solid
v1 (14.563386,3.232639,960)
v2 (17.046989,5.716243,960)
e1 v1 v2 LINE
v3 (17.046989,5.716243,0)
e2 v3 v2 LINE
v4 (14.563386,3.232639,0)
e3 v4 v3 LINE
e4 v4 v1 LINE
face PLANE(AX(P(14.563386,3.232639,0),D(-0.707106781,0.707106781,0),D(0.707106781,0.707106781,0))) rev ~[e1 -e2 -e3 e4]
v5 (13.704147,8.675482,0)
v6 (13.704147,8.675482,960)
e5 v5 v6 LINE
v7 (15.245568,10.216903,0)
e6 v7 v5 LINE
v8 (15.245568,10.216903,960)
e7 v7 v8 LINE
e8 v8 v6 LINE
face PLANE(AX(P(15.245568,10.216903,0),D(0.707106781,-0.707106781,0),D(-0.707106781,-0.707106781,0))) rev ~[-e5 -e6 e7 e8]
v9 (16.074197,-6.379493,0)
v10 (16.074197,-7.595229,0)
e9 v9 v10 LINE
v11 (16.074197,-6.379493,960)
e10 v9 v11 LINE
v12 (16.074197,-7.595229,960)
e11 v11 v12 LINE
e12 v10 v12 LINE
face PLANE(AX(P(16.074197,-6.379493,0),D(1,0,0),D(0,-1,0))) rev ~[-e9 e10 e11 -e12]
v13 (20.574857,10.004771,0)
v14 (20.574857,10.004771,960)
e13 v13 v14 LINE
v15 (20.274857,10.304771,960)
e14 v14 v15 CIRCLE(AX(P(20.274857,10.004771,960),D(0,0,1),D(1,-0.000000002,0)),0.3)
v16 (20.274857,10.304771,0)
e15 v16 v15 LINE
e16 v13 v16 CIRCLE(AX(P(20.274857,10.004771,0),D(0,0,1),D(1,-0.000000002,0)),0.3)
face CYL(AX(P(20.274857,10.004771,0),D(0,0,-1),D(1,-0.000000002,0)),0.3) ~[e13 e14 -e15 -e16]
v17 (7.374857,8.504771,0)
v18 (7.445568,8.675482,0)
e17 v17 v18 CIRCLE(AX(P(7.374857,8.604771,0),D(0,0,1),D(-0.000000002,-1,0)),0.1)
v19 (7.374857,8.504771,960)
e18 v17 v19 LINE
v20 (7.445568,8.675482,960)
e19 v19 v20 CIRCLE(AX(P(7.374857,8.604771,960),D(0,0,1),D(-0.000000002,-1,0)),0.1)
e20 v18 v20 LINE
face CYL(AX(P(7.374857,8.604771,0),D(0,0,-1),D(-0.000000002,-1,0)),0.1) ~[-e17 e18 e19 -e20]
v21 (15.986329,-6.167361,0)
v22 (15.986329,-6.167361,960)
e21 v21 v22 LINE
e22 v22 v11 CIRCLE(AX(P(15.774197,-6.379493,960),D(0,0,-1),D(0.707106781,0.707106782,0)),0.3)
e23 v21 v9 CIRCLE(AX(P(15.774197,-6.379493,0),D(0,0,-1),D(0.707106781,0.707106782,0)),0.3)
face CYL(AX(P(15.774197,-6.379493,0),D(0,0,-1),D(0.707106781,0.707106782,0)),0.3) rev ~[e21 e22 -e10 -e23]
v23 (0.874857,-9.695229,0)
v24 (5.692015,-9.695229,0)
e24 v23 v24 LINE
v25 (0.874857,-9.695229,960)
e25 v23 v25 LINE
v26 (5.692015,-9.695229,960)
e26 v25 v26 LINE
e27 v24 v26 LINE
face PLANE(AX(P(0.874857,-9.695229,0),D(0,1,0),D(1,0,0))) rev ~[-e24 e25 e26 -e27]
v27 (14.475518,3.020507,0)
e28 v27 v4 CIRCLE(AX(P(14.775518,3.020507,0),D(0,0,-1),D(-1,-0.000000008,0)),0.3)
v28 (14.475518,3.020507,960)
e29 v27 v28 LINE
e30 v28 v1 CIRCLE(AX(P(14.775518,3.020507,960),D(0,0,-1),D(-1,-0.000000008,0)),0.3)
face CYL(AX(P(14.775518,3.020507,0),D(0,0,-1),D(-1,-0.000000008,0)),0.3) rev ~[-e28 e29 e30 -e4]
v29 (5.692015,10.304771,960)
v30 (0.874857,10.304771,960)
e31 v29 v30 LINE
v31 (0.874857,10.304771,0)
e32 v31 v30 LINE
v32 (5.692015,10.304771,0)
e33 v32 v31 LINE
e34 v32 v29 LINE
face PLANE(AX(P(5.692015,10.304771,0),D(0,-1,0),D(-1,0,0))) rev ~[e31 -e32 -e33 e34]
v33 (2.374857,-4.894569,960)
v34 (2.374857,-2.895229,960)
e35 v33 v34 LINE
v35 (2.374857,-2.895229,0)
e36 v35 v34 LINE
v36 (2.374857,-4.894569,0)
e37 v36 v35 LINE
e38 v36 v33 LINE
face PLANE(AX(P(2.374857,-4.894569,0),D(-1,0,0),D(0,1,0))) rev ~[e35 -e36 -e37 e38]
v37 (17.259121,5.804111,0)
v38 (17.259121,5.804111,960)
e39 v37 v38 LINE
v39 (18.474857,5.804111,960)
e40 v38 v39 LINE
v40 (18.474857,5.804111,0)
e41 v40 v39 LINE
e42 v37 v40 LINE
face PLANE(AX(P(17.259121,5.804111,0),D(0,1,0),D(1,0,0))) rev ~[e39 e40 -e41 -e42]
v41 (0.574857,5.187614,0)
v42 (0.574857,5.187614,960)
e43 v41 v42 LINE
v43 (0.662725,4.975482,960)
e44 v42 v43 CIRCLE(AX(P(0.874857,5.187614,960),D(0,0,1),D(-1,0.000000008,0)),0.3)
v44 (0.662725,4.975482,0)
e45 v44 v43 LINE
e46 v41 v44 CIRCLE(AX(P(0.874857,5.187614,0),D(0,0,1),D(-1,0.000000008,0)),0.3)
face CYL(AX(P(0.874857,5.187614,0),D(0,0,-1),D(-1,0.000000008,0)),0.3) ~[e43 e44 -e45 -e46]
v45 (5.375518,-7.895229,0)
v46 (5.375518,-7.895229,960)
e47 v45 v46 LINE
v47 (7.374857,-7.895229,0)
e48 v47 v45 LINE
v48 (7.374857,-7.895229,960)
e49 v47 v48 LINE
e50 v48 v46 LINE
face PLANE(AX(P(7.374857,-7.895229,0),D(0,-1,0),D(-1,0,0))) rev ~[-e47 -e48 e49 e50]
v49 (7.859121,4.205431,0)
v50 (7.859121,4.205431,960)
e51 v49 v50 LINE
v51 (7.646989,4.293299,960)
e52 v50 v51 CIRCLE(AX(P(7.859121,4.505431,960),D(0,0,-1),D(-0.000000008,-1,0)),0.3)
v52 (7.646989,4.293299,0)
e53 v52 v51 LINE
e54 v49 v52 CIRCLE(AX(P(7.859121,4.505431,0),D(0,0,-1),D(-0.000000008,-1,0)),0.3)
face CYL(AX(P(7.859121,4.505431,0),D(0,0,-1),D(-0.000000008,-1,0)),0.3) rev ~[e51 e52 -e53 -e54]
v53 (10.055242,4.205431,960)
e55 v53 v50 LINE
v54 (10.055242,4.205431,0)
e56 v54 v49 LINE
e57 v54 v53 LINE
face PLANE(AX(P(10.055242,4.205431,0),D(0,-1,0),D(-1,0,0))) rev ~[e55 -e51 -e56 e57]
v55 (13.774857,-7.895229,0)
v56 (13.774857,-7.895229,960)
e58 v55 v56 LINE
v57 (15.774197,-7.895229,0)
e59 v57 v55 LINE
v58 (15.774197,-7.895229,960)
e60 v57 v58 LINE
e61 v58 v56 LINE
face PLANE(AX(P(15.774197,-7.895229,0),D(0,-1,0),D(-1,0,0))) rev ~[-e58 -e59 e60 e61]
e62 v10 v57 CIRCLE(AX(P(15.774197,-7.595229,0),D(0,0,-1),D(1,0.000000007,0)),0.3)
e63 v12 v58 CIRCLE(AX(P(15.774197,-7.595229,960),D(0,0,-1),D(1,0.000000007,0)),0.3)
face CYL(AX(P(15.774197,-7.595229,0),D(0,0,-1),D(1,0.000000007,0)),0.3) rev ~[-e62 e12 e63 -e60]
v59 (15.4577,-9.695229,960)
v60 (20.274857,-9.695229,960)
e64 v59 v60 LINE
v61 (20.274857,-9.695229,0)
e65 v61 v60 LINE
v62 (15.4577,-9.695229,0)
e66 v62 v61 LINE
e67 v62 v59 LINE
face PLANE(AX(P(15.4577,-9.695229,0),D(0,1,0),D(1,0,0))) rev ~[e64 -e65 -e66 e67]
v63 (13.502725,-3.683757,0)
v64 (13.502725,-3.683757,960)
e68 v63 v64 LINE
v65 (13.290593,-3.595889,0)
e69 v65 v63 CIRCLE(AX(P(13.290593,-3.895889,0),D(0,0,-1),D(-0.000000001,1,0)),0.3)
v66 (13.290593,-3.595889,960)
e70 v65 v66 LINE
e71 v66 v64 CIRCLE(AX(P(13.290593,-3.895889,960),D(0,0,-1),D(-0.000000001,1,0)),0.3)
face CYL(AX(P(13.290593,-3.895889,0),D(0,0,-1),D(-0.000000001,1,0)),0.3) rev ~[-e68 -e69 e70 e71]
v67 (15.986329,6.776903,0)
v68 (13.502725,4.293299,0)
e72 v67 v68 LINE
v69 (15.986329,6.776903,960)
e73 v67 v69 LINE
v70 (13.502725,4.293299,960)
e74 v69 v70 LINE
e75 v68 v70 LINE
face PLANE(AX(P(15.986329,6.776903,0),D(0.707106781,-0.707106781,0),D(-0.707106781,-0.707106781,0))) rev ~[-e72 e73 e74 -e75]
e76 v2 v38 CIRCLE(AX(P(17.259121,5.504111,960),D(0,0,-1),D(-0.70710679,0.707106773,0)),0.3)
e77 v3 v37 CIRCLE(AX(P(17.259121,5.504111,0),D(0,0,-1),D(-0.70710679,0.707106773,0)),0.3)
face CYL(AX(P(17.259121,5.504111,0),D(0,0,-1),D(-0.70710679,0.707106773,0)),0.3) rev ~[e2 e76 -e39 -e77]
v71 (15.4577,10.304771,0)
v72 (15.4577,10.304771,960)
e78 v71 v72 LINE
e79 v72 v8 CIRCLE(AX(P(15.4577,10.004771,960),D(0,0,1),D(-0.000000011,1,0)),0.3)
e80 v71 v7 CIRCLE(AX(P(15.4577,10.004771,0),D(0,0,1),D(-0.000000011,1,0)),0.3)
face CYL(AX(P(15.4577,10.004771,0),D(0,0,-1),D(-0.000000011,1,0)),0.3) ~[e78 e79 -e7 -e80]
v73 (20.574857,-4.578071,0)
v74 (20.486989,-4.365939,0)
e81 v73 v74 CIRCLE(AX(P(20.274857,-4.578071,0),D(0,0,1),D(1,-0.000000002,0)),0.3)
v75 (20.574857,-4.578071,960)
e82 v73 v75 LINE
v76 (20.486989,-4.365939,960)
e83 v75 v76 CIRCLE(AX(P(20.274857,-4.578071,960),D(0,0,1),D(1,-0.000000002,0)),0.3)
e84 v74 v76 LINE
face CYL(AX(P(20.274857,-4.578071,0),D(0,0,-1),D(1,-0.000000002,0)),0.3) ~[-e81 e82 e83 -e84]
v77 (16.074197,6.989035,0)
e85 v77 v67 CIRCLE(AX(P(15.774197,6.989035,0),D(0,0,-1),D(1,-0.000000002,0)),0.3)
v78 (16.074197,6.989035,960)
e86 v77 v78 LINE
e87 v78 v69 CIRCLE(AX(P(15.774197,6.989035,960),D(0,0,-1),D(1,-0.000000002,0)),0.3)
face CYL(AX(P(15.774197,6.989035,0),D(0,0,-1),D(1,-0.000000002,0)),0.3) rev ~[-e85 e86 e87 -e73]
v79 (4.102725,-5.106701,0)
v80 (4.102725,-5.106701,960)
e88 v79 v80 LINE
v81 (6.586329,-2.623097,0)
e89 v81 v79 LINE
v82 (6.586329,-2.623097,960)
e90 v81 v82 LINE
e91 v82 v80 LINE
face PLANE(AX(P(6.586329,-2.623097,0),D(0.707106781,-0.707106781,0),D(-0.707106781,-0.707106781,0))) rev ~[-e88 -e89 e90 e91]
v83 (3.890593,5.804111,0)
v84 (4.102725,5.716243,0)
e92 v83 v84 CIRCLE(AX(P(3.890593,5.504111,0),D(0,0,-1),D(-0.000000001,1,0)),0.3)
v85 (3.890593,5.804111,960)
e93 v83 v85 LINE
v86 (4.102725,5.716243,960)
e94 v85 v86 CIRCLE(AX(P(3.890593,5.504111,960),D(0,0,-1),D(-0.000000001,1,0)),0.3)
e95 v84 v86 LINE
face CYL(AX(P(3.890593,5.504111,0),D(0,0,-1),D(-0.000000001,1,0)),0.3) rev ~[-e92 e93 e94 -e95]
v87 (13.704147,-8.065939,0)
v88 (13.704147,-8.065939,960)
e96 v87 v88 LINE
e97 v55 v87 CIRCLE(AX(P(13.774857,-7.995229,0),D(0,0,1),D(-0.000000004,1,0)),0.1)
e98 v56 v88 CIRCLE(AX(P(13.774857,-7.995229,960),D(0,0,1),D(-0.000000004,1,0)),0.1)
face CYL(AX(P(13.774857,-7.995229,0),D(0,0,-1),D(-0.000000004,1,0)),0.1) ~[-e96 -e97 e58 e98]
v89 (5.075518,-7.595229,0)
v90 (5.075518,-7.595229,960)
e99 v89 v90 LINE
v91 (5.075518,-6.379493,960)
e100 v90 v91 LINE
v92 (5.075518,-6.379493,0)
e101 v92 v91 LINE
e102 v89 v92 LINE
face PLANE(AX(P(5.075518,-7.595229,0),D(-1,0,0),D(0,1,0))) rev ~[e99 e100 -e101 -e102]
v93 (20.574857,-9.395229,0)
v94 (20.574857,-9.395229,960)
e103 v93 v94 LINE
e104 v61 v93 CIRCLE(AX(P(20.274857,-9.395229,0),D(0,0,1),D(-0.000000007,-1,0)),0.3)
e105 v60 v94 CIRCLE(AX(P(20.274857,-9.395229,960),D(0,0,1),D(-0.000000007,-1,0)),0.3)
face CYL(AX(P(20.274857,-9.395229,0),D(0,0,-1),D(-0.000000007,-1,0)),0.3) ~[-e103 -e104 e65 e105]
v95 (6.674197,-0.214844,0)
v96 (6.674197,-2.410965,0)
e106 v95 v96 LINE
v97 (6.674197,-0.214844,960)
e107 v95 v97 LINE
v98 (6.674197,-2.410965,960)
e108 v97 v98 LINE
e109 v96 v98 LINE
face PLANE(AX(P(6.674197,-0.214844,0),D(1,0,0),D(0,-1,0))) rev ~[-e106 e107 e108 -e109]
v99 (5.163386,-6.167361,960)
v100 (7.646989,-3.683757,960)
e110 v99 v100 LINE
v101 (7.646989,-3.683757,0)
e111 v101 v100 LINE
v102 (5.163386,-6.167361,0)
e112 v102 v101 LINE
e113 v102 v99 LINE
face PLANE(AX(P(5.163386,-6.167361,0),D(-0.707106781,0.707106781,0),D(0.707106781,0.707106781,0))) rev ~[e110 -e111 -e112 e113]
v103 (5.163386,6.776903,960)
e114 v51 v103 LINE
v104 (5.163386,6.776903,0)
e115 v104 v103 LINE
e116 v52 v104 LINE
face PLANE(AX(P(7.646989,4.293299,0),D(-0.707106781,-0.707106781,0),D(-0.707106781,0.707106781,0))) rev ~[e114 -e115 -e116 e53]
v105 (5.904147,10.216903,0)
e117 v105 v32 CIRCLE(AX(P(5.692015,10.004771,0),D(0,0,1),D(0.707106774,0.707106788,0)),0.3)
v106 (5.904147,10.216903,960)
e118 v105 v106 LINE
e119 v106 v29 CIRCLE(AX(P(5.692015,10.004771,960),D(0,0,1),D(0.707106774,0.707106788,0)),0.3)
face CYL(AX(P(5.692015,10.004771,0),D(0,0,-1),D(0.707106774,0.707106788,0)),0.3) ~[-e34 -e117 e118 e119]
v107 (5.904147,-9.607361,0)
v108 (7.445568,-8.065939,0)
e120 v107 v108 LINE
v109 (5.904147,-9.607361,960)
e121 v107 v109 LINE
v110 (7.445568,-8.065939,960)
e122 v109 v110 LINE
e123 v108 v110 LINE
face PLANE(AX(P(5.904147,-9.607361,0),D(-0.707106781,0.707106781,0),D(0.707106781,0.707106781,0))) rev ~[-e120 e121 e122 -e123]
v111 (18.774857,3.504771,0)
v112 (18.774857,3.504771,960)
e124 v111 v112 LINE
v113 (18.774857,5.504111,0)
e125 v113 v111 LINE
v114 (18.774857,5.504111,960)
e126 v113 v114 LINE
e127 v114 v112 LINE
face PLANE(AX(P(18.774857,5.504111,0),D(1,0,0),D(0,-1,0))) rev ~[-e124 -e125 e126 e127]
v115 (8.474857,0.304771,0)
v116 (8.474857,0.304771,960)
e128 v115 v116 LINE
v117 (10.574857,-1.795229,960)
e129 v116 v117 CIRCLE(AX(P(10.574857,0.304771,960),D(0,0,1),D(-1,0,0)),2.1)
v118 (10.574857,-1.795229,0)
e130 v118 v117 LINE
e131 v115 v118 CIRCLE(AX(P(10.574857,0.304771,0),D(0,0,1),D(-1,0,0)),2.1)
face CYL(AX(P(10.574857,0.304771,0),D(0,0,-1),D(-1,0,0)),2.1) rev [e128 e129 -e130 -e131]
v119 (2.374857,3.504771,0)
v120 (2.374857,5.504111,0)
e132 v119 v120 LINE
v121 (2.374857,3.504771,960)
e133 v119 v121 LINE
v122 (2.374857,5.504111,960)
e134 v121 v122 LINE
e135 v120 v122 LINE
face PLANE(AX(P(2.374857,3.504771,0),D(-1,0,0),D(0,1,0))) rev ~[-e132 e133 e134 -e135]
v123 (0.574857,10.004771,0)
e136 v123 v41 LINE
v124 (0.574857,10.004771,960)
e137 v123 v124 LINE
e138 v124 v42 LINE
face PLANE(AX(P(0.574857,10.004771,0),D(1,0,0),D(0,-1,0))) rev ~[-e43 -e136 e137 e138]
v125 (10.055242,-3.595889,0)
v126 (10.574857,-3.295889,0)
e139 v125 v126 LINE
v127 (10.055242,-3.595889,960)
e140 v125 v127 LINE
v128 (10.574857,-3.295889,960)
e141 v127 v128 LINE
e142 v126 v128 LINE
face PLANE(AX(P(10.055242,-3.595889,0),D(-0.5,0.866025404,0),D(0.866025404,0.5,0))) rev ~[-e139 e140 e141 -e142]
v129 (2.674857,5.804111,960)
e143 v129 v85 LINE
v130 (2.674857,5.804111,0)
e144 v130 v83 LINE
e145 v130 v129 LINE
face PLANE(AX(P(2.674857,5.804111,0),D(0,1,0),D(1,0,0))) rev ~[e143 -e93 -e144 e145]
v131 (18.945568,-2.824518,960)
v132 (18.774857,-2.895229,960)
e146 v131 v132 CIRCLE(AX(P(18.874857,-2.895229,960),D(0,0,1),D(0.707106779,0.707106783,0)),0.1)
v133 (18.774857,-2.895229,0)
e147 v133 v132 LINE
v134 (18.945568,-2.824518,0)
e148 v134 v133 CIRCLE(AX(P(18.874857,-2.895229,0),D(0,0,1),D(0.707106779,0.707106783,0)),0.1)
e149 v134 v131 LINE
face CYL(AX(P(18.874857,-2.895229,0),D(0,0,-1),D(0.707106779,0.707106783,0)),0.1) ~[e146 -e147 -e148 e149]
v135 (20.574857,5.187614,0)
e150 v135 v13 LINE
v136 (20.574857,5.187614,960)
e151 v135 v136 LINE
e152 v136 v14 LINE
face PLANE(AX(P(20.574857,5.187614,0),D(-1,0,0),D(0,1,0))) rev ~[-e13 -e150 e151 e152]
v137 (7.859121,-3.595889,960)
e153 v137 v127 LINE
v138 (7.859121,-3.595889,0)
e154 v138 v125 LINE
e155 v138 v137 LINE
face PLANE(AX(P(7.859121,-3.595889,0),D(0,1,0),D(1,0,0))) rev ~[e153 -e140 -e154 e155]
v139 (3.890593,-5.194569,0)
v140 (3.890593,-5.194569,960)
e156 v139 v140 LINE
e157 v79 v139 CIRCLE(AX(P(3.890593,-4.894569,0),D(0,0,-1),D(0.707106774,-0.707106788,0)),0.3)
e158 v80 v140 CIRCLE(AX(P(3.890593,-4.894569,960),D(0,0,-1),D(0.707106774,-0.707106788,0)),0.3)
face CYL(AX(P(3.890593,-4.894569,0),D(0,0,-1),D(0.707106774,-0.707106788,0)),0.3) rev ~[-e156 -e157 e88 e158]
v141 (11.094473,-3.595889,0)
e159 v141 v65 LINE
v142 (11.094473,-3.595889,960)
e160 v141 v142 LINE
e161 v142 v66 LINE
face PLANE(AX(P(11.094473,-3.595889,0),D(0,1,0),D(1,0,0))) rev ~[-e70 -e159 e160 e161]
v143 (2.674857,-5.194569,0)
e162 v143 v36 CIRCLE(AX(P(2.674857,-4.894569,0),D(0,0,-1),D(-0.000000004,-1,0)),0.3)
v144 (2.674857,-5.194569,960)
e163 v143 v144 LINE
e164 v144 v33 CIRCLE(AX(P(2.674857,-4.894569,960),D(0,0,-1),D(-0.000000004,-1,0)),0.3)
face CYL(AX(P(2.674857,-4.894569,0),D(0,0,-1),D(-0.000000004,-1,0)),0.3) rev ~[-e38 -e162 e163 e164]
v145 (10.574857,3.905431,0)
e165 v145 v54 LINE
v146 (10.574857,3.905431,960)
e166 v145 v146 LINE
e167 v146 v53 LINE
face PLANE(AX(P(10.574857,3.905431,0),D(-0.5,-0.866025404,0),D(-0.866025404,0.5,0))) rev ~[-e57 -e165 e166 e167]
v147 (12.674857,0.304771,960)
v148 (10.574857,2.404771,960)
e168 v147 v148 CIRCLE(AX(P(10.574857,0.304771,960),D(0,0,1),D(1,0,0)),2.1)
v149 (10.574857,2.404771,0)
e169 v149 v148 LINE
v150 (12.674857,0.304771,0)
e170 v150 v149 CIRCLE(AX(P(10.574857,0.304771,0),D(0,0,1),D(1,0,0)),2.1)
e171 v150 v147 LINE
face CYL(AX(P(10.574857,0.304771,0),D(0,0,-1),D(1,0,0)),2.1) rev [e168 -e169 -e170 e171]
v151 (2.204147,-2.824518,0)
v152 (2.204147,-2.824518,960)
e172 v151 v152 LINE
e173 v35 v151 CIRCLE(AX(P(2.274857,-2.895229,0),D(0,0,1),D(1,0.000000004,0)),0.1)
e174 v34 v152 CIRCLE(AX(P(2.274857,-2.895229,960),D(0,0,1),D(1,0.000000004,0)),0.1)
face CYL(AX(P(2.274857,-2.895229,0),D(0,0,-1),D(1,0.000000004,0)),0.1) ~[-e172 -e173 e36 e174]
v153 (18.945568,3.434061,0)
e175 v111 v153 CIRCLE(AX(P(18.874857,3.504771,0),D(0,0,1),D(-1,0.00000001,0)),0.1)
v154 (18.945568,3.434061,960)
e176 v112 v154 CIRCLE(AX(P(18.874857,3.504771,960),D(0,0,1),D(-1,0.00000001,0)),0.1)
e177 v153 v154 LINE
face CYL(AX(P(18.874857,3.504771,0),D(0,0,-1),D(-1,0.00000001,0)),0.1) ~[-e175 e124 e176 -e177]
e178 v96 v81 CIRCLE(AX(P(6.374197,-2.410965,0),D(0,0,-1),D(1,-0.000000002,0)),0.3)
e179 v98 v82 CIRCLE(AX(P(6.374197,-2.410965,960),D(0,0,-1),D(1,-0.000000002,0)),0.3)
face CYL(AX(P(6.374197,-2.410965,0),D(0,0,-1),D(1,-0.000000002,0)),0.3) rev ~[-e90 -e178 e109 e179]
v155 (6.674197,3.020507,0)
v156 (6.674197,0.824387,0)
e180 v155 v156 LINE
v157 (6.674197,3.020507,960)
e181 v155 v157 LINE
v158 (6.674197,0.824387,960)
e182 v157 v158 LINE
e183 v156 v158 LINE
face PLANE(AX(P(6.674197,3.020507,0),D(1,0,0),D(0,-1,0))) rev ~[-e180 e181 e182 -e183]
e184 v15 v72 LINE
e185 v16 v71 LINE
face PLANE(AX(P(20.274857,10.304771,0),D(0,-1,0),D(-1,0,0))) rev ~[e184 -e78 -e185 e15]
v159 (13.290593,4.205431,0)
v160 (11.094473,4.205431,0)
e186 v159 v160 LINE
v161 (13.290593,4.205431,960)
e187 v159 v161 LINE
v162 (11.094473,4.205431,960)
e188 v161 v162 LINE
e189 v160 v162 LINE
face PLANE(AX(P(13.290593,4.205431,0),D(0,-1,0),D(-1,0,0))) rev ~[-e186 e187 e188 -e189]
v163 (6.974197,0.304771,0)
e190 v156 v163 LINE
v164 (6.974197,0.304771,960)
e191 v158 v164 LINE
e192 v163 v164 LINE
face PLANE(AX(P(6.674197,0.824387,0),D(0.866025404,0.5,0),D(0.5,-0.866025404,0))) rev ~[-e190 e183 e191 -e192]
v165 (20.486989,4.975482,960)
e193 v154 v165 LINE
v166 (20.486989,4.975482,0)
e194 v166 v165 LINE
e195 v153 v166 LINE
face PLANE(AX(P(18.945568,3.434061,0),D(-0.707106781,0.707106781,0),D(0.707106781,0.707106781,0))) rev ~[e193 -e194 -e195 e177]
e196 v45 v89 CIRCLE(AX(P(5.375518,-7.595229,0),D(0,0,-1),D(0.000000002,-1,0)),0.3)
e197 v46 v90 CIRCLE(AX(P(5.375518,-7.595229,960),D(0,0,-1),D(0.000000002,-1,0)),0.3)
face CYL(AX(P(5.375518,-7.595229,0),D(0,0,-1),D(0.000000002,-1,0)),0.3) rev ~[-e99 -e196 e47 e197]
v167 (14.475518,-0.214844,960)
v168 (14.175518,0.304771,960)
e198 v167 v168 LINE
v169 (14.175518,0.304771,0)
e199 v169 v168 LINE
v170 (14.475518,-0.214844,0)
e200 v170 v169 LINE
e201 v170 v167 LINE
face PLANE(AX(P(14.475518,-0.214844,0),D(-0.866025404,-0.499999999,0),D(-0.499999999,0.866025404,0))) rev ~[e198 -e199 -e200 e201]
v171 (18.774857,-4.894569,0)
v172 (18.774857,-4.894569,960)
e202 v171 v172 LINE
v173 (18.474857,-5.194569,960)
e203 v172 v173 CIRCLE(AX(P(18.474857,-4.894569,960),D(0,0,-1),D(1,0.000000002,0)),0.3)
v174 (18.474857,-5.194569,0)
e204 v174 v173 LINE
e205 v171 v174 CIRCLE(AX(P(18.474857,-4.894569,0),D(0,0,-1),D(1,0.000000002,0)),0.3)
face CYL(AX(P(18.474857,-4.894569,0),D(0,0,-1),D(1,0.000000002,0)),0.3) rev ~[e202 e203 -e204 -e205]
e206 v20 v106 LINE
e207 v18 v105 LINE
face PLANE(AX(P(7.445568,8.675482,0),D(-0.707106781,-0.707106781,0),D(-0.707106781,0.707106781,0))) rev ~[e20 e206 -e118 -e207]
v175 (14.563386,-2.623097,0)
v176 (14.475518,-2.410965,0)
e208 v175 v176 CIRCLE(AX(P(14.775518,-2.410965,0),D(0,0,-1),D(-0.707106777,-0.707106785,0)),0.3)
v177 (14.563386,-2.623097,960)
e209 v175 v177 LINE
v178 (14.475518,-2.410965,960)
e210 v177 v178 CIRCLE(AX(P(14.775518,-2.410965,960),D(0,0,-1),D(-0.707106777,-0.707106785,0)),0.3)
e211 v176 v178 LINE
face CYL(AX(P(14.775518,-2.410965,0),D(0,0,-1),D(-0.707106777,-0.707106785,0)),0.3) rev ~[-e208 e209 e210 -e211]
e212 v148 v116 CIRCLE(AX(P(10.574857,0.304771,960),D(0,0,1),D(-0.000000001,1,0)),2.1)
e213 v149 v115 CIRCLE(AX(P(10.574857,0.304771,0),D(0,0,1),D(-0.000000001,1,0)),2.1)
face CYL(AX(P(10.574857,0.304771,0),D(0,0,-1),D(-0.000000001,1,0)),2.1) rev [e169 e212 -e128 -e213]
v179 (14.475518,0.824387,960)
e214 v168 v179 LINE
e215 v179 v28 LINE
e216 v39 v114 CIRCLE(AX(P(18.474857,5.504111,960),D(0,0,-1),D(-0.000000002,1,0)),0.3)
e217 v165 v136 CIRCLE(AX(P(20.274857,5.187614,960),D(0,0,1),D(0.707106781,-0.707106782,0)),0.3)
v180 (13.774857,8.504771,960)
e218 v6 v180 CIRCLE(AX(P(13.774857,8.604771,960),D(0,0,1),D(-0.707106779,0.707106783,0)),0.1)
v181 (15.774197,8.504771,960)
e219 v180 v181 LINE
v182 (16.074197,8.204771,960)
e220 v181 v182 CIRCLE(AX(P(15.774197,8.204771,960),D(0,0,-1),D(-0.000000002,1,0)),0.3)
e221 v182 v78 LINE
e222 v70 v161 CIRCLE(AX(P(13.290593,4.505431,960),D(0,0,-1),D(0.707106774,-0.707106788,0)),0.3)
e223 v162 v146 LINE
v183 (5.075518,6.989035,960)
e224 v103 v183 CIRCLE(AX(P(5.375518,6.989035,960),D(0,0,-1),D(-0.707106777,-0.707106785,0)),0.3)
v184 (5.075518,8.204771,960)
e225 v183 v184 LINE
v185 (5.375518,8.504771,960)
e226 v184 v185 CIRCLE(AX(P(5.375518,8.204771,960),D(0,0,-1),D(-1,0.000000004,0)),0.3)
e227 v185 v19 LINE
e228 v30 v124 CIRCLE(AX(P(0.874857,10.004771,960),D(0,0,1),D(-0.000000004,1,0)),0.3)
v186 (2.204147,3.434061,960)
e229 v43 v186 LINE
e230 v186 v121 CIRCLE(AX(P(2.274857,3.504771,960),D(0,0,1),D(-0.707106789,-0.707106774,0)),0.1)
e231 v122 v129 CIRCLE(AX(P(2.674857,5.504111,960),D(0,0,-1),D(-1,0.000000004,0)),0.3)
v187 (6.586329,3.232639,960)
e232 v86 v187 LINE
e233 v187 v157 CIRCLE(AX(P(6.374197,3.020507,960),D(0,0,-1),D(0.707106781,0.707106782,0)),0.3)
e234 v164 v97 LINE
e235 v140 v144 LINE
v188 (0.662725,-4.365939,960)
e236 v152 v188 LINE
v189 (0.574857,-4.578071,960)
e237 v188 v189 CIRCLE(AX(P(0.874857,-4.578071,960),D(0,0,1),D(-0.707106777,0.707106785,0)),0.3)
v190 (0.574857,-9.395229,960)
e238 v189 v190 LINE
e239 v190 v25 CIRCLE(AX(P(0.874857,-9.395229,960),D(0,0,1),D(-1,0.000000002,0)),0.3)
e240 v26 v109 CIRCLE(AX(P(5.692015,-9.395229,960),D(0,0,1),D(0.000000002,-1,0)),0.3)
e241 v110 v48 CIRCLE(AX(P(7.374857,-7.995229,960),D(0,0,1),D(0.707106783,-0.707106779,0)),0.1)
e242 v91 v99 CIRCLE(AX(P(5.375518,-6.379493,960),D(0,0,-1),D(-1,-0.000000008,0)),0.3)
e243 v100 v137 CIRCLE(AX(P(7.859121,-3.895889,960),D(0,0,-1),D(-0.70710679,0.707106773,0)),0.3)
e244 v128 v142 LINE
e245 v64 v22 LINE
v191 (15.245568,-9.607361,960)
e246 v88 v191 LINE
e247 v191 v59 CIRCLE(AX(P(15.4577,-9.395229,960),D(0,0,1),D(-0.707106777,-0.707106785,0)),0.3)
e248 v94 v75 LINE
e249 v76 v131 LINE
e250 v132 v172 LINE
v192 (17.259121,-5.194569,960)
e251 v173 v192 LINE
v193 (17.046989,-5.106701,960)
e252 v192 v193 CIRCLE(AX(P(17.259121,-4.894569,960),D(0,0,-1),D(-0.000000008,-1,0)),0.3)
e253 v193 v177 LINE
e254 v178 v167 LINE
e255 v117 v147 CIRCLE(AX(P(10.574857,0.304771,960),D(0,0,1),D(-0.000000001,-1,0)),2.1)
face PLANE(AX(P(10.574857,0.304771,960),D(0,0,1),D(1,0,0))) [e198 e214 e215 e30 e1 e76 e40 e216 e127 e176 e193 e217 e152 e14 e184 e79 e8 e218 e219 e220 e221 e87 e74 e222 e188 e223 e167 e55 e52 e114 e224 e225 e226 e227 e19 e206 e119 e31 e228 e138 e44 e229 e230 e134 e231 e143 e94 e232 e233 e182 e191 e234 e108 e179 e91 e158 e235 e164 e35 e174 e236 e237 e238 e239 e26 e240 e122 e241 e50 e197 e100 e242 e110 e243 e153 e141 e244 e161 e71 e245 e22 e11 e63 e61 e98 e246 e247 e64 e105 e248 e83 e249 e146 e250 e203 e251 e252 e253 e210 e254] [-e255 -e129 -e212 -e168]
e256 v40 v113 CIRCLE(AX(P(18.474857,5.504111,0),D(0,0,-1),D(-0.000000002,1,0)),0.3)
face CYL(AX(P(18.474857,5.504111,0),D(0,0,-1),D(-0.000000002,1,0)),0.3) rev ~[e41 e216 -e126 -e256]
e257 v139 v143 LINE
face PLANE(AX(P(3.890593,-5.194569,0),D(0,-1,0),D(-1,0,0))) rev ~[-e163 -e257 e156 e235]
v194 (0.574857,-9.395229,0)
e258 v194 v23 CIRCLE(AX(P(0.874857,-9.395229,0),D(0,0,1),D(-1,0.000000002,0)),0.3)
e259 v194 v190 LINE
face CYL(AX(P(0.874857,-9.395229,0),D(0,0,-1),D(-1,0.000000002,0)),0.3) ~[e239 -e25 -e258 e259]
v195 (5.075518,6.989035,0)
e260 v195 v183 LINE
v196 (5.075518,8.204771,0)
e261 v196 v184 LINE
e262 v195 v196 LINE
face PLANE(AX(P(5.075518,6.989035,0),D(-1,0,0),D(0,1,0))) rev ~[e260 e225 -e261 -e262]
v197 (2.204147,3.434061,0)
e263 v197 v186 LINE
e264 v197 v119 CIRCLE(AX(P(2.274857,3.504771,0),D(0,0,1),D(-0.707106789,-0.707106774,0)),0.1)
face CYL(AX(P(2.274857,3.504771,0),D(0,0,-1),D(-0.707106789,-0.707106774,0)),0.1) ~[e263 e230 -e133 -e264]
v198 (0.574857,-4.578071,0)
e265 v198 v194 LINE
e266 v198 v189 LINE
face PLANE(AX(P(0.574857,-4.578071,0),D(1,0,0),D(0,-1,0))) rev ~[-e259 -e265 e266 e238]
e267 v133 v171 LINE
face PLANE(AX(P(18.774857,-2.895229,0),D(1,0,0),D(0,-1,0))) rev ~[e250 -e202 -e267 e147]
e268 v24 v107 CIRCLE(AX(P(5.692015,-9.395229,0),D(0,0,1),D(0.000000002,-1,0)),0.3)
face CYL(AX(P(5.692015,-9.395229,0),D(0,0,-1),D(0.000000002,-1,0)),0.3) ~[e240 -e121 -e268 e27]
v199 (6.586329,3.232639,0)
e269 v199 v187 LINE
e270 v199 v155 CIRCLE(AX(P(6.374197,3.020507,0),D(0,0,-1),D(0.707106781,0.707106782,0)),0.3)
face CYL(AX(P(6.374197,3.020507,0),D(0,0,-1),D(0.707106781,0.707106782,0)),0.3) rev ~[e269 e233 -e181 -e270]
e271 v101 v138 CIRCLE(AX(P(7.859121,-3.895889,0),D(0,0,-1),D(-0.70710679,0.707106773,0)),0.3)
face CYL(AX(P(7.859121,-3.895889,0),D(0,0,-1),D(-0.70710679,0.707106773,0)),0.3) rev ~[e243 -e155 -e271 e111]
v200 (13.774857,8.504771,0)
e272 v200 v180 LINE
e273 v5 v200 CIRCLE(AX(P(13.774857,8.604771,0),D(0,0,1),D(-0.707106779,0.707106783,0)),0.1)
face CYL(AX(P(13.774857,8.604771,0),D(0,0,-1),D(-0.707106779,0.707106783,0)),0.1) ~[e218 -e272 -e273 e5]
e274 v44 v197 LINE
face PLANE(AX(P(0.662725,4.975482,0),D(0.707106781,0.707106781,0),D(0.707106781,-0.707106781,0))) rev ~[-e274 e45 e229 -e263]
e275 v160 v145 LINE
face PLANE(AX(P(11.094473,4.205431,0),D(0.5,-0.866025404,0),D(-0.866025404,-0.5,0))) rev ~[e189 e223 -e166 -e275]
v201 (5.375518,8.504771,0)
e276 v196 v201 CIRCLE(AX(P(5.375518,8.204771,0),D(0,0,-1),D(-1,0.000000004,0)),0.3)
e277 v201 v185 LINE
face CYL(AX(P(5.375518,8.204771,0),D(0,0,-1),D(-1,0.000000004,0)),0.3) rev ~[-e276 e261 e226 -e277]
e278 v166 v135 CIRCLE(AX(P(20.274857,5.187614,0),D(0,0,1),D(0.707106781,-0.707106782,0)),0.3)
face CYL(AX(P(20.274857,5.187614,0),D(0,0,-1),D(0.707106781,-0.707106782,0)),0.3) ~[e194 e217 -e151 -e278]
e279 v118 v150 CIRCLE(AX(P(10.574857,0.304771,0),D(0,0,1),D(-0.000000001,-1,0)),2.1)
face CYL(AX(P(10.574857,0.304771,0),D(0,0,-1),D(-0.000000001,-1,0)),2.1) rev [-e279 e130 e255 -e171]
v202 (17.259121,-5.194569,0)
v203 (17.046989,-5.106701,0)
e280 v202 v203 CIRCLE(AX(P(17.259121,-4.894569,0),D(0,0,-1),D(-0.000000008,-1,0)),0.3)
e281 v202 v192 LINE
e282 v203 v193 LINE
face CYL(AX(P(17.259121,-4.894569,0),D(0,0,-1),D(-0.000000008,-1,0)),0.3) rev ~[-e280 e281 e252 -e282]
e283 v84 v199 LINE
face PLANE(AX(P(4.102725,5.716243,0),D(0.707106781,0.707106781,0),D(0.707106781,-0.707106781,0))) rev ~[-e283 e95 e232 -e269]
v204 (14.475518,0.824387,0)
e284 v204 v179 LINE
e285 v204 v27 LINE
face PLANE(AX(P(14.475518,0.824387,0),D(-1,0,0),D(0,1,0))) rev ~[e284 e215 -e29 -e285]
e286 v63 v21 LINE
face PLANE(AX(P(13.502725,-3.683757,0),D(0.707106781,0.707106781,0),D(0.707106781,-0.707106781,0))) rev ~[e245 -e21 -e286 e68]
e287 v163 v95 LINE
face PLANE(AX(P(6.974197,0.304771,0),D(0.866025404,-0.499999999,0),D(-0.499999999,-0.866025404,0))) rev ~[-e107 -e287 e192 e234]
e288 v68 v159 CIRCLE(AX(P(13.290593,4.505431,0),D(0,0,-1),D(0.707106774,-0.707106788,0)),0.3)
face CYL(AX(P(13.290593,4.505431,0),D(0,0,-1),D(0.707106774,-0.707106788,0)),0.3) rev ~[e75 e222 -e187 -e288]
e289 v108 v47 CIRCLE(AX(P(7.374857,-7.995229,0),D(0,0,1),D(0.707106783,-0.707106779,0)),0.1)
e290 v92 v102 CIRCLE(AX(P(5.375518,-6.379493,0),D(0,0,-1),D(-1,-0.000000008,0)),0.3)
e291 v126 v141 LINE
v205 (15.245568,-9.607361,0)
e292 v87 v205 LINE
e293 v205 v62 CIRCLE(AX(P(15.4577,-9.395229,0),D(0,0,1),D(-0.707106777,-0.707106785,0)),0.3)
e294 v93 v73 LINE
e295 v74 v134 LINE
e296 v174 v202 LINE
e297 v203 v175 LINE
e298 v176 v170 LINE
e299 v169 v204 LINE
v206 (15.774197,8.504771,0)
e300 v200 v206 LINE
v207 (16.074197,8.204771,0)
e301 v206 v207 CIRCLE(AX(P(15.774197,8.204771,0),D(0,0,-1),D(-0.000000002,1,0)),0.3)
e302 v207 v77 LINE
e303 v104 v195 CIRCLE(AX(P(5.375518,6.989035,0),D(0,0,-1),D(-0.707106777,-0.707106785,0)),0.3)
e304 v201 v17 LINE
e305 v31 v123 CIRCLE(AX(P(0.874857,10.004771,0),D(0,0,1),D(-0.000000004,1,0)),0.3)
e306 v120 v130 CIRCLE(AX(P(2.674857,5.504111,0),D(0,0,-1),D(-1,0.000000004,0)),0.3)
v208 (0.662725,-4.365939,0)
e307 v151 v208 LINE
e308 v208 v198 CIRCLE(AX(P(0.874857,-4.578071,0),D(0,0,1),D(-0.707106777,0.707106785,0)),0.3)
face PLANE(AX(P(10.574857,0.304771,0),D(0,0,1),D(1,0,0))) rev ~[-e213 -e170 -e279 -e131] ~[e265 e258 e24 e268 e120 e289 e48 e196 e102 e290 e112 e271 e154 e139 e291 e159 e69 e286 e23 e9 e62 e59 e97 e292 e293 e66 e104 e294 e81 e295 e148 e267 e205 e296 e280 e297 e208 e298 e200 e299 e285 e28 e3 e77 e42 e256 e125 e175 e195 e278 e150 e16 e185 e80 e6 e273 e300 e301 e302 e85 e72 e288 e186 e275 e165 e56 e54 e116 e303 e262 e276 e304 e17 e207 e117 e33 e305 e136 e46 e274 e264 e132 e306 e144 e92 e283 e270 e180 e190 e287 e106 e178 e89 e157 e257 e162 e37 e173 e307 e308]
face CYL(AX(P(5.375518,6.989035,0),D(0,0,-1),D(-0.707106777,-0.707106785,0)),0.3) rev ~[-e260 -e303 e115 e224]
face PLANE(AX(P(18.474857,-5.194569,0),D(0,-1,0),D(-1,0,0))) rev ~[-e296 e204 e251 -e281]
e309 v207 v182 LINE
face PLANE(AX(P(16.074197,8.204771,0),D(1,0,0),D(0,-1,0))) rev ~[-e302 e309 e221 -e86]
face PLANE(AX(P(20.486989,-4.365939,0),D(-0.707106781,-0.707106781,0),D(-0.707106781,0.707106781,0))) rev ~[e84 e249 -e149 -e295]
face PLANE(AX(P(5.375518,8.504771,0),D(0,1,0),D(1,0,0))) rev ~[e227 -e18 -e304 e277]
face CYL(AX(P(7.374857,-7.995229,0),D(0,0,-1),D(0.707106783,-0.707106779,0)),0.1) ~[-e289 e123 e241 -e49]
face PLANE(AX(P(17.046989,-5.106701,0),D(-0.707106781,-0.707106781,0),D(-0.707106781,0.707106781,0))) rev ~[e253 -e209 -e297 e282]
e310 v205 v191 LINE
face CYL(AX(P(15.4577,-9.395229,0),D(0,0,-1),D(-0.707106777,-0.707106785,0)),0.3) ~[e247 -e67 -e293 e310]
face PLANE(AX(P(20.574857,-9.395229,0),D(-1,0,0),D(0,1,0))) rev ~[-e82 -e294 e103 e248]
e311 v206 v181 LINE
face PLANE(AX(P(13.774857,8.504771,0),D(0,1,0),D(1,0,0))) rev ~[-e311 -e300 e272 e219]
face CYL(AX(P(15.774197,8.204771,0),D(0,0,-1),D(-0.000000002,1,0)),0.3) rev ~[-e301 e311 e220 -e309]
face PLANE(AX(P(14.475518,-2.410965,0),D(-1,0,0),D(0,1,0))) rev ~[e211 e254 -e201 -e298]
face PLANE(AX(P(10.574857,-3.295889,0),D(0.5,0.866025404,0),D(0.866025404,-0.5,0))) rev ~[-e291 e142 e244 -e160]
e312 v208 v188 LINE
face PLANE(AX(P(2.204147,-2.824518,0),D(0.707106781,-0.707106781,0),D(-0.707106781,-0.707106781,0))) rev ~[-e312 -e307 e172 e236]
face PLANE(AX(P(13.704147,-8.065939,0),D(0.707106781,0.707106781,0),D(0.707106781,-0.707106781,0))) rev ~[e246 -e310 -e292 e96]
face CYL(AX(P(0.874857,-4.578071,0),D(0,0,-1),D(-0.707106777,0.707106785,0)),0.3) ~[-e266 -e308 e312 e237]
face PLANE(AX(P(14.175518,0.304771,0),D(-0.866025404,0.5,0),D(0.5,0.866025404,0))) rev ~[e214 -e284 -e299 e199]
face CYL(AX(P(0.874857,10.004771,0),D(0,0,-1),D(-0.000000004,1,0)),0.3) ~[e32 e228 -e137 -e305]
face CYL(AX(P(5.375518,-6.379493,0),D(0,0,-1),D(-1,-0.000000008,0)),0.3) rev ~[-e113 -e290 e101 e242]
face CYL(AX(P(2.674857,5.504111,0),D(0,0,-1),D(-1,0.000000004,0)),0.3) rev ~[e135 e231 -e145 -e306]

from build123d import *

# Parameters (mm, degrees)
BOSS_EXTRU_1_DEPTH = 960


with BuildPart() as part:
    # Esquisse1 → Boss.-Extru.1 (new body)
    with BuildSketch(Plane.XY):
        with BuildLine():
            Line((18.774857412, -2.895228684), (18.774857412, -4.894568513))
            ThreePointArc((18.774857412, -4.894568513), (18.686989447, -5.106700547), (18.474857412, -5.194568513))
            Line((18.474857412, -5.194568513), (17.259121481, -5.194568513))
            ThreePointArc((17.259121481, -5.194568513), (17.144316451, -5.171732372), (17.046989447, -5.106700547))
            Line((17.046989447, -5.106700547), (14.56338555, -2.62309665))
            ThreePointArc((14.56338555, -2.62309665), (14.498353724, -2.525769645), (14.475517584, -2.410964616))
            Line((14.475517584, -2.410964616), (14.475517584, -0.214843927))
            Line((14.475517584, -0.214843927), (14.175517584, 0.304771316))
            Line((14.175517584, 0.304771316), (14.475517584, 0.824386558))
            Line((14.475517584, 0.824386558), (14.475517584, 3.020507247))
            ThreePointArc((14.475517584, 3.020507247), (14.498353724, 3.135312277), (14.56338555, 3.232639281))
            Line((14.56338555, 3.232639281), (17.046989447, 5.716243178))
            ThreePointArc((17.046989447, 5.716243178), (17.144316451, 5.781275004), (17.259121481, 5.804111144))
            Line((17.259121481, 5.804111144), (18.474857412, 5.804111144))
            ThreePointArc((18.474857412, 5.804111144), (18.686989447, 5.716243178), (18.774857412, 5.504111144))
            Line((18.774857412, 5.504111144), (18.774857412, 3.504771316))
            ThreePointArc((18.774857412, 3.504771316), (18.836589069, 3.412383362), (18.94556809, 3.434060638))
            Line((18.94556809, 3.434060638), (20.486989447, 4.975481994))
            ThreePointArc((20.486989447, 4.975481994), (20.552021272, 5.072808998), (20.574857412, 5.187614028))
            Line((20.574857412, 5.187614028), (20.574857412, 10.004771316))
            ThreePointArc((20.574857412, 10.004771316), (20.486989447, 10.21690335), (20.274857412, 10.304771316))
            Line((20.274857412, 10.304771316), (15.457700125, 10.304771316))
            ThreePointArc((15.457700125, 10.304771316), (15.342895095, 10.281935175), (15.24556809, 10.21690335))
            Line((15.24556809, 10.21690335), (13.704146734, 8.675481994))
            ThreePointArc((13.704146734, 8.675481994), (13.682469459, 8.566502972), (13.774857412, 8.504771316))
            Line((13.774857412, 8.504771316), (15.77419724, 8.504771316))
            ThreePointArc((15.77419724, 8.504771316), (15.986329275, 8.41690335), (16.07419724, 8.204771316))
            Line((16.07419724, 8.204771316), (16.07419724, 6.989035384))
            ThreePointArc((16.07419724, 6.989035384), (16.0513611, 6.874230355), (15.986329275, 6.77690335))
            Line((15.986329275, 6.77690335), (13.502725378, 4.293299453))
            ThreePointArc((13.502725378, 4.293299453), (13.405398373, 4.228267628), (13.290593344, 4.205431487))
            Line((13.290593344, 4.205431487), (11.094472654, 4.205431487))
            Line((11.094472654, 4.205431487), (10.574857412, 3.905431487))
            Line((10.574857412, 3.905431487), (10.05524217, 4.205431487))
            Line((10.05524217, 4.205431487), (7.859121481, 4.205431487))
            ThreePointArc((7.859121481, 4.205431487), (7.744316451, 4.228267628), (7.646989447, 4.293299453))
            Line((7.646989447, 4.293299453), (5.16338555, 6.77690335))
            ThreePointArc((5.16338555, 6.77690335), (5.098353724, 6.874230355), (5.075517584, 6.989035384))
            Line((5.075517584, 6.989035384), (5.075517584, 8.204771316))
            ThreePointArc((5.075517584, 8.204771316), (5.16338555, 8.41690335), (5.375517584, 8.504771316))
            Line((5.375517584, 8.504771316), (7.374857412, 8.504771316))
            ThreePointArc((7.374857412, 8.504771316), (7.467245365, 8.566502972), (7.44556809, 8.675481994))
            Line((7.44556809, 8.675481994), (5.904146734, 10.21690335))
            ThreePointArc((5.904146734, 10.21690335), (5.806819729, 10.281935175), (5.6920147, 10.304771316))
            Line((5.6920147, 10.304771316), (0.874857412, 10.304771316))
            ThreePointArc((0.874857412, 10.304771316), (0.662725378, 10.21690335), (0.574857412, 10.004771316))
            Line((0.574857412, 10.004771316), (0.574857412, 5.187614028))
            ThreePointArc((0.574857412, 5.187614028), (0.597693552, 5.072808998), (0.662725378, 4.975481994))
            Line((0.662725378, 4.975481994), (2.204146734, 3.434060638))
            ThreePointArc((2.204146734, 3.434060638), (2.313125755, 3.412383362), (2.374857412, 3.504771316))
            Line((2.374857412, 3.504771316), (2.374857412, 5.504111144))
            ThreePointArc((2.374857412, 5.504111144), (2.462725378, 5.716243178), (2.674857412, 5.804111144))
            Line((2.674857412, 5.804111144), (3.890593344, 5.804111144))
            ThreePointArc((3.890593344, 5.804111144), (4.005398373, 5.781275004), (4.102725378, 5.716243178))
            Line((4.102725378, 5.716243178), (6.586329275, 3.232639281))
            ThreePointArc((6.586329275, 3.232639281), (6.6513611, 3.135312277), (6.67419724, 3.020507247))
            Line((6.67419724, 3.020507247), (6.67419724, 0.824386558))
            Line((6.67419724, 0.824386558), (6.97419724, 0.304771316))
            Line((6.97419724, 0.304771316), (6.67419724, -0.214843927))
            Line((6.67419724, -0.214843927), (6.67419724, -2.410964616))
            ThreePointArc((6.67419724, -2.410964616), (6.6513611, -2.525769645), (6.586329275, -2.62309665))
            Line((6.586329275, -2.62309665), (4.102725378, -5.106700547))
            ThreePointArc((4.102725378, -5.106700547), (4.005398373, -5.171732372), (3.890593344, -5.194568513))
            Line((3.890593344, -5.194568513), (2.674857412, -5.194568513))
            ThreePointArc((2.674857412, -5.194568513), (2.462725378, -5.106700547), (2.374857412, -4.894568513))
            Line((2.374857412, -4.894568513), (2.374857412, -2.895228684))
            ThreePointArc((2.374857412, -2.895228684), (2.313125755, -2.802840731), (2.204146734, -2.824518006))
            Line((2.204146734, -2.824518006), (0.662725378, -4.365939362))
            ThreePointArc((0.662725378, -4.365939362), (0.597693552, -4.463266367), (0.574857412, -4.578071397))
            Line((0.574857412, -4.578071397), (0.574857412, -9.395228684))
            ThreePointArc((0.574857412, -9.395228684), (0.662725378, -9.607360719), (0.874857412, -9.695228684))
            Line((0.874857412, -9.695228684), (5.6920147, -9.695228684))
            ThreePointArc((5.6920147, -9.695228684), (5.806819729, -9.672392544), (5.904146734, -9.607360719))
            Line((5.904146734, -9.607360719), (7.44556809, -8.065939362))
            ThreePointArc((7.44556809, -8.065939362), (7.467245365, -7.956960341), (7.374857412, -7.895228684))
            Line((7.374857412, -7.895228684), (5.375517584, -7.895228684))
            ThreePointArc((5.375517584, -7.895228684), (5.16338555, -7.807360719), (5.075517584, -7.595228684))
            Line((5.075517584, -7.595228684), (5.075517584, -6.379492753))
            ThreePointArc((5.075517584, -6.379492753), (5.098353724, -6.264687723), (5.16338555, -6.167360719))
            Line((5.16338555, -6.167360719), (7.646989447, -3.683756822))
            ThreePointArc((7.646989447, -3.683756822), (7.744316451, -3.618724996), (7.859121481, -3.595888856))
            Line((7.859121481, -3.595888856), (10.05524217, -3.595888856))
            Line((10.05524217, -3.595888856), (10.574857412, -3.295888856))
            Line((10.574857412, -3.295888856), (11.094472654, -3.595888856))
            Line((11.094472654, -3.595888856), (13.290593344, -3.595888856))
            ThreePointArc((13.290593344, -3.595888856), (13.405398373, -3.618724996), (13.502725378, -3.683756822))
            Line((13.502725378, -3.683756822), (15.986329275, -6.167360719))
            ThreePointArc((15.986329275, -6.167360719), (16.0513611, -6.264687723), (16.07419724, -6.379492753))
            Line((16.07419724, -6.379492753), (16.07419724, -7.595228684))
            ThreePointArc((16.07419724, -7.595228684), (15.986329275, -7.807360719), (15.77419724, -7.895228684))
            Line((15.77419724, -7.895228684), (13.774857412, -7.895228684))
            ThreePointArc((13.774857412, -7.895228684), (13.682469459, -7.956960341), (13.704146734, -8.065939362))
            Line((13.704146734, -8.065939362), (15.24556809, -9.607360719))
            ThreePointArc((15.24556809, -9.607360719), (15.342895095, -9.672392544), (15.457700125, -9.695228684))
            Line((15.457700125, -9.695228684), (20.274857412, -9.695228684))
            ThreePointArc((20.274857412, -9.695228684), (20.486989447, -9.607360719), (20.574857412, -9.395228684))
            Line((20.574857412, -9.395228684), (20.574857412, -4.578071397))
            ThreePointArc((20.574857412, -4.578071397), (20.552021272, -4.463266367), (20.486989447, -4.365939362))
            Line((20.486989447, -4.365939362), (18.94556809, -2.824518006))
            ThreePointArc((18.94556809, -2.824518006), (18.836589069, -2.802840731), (18.774857412, -2.895228684))
        make_face()
        with BuildLine():
            ThreePointArc((10.574857412, -1.795228684), (12.059781653, -1.180152925), (12.674857412, 0.304771316))
            ThreePointArc((12.674857412, 0.304771316), (12.059781653, 1.789695556), (10.574857412, 2.404771316))
            ThreePointArc((10.574857412, 2.404771316), (9.089933172, 1.789695556), (8.474857412, 0.304771316))
            ThreePointArc((8.474857412, 0.304771316), (9.089933172, -1.180152925), (10.574857412, -1.795228684))
        make_face(mode=Mode.SUBTRACT)
    extrude(amount=BOSS_EXTRU_1_DEPTH)


solid = part.part
